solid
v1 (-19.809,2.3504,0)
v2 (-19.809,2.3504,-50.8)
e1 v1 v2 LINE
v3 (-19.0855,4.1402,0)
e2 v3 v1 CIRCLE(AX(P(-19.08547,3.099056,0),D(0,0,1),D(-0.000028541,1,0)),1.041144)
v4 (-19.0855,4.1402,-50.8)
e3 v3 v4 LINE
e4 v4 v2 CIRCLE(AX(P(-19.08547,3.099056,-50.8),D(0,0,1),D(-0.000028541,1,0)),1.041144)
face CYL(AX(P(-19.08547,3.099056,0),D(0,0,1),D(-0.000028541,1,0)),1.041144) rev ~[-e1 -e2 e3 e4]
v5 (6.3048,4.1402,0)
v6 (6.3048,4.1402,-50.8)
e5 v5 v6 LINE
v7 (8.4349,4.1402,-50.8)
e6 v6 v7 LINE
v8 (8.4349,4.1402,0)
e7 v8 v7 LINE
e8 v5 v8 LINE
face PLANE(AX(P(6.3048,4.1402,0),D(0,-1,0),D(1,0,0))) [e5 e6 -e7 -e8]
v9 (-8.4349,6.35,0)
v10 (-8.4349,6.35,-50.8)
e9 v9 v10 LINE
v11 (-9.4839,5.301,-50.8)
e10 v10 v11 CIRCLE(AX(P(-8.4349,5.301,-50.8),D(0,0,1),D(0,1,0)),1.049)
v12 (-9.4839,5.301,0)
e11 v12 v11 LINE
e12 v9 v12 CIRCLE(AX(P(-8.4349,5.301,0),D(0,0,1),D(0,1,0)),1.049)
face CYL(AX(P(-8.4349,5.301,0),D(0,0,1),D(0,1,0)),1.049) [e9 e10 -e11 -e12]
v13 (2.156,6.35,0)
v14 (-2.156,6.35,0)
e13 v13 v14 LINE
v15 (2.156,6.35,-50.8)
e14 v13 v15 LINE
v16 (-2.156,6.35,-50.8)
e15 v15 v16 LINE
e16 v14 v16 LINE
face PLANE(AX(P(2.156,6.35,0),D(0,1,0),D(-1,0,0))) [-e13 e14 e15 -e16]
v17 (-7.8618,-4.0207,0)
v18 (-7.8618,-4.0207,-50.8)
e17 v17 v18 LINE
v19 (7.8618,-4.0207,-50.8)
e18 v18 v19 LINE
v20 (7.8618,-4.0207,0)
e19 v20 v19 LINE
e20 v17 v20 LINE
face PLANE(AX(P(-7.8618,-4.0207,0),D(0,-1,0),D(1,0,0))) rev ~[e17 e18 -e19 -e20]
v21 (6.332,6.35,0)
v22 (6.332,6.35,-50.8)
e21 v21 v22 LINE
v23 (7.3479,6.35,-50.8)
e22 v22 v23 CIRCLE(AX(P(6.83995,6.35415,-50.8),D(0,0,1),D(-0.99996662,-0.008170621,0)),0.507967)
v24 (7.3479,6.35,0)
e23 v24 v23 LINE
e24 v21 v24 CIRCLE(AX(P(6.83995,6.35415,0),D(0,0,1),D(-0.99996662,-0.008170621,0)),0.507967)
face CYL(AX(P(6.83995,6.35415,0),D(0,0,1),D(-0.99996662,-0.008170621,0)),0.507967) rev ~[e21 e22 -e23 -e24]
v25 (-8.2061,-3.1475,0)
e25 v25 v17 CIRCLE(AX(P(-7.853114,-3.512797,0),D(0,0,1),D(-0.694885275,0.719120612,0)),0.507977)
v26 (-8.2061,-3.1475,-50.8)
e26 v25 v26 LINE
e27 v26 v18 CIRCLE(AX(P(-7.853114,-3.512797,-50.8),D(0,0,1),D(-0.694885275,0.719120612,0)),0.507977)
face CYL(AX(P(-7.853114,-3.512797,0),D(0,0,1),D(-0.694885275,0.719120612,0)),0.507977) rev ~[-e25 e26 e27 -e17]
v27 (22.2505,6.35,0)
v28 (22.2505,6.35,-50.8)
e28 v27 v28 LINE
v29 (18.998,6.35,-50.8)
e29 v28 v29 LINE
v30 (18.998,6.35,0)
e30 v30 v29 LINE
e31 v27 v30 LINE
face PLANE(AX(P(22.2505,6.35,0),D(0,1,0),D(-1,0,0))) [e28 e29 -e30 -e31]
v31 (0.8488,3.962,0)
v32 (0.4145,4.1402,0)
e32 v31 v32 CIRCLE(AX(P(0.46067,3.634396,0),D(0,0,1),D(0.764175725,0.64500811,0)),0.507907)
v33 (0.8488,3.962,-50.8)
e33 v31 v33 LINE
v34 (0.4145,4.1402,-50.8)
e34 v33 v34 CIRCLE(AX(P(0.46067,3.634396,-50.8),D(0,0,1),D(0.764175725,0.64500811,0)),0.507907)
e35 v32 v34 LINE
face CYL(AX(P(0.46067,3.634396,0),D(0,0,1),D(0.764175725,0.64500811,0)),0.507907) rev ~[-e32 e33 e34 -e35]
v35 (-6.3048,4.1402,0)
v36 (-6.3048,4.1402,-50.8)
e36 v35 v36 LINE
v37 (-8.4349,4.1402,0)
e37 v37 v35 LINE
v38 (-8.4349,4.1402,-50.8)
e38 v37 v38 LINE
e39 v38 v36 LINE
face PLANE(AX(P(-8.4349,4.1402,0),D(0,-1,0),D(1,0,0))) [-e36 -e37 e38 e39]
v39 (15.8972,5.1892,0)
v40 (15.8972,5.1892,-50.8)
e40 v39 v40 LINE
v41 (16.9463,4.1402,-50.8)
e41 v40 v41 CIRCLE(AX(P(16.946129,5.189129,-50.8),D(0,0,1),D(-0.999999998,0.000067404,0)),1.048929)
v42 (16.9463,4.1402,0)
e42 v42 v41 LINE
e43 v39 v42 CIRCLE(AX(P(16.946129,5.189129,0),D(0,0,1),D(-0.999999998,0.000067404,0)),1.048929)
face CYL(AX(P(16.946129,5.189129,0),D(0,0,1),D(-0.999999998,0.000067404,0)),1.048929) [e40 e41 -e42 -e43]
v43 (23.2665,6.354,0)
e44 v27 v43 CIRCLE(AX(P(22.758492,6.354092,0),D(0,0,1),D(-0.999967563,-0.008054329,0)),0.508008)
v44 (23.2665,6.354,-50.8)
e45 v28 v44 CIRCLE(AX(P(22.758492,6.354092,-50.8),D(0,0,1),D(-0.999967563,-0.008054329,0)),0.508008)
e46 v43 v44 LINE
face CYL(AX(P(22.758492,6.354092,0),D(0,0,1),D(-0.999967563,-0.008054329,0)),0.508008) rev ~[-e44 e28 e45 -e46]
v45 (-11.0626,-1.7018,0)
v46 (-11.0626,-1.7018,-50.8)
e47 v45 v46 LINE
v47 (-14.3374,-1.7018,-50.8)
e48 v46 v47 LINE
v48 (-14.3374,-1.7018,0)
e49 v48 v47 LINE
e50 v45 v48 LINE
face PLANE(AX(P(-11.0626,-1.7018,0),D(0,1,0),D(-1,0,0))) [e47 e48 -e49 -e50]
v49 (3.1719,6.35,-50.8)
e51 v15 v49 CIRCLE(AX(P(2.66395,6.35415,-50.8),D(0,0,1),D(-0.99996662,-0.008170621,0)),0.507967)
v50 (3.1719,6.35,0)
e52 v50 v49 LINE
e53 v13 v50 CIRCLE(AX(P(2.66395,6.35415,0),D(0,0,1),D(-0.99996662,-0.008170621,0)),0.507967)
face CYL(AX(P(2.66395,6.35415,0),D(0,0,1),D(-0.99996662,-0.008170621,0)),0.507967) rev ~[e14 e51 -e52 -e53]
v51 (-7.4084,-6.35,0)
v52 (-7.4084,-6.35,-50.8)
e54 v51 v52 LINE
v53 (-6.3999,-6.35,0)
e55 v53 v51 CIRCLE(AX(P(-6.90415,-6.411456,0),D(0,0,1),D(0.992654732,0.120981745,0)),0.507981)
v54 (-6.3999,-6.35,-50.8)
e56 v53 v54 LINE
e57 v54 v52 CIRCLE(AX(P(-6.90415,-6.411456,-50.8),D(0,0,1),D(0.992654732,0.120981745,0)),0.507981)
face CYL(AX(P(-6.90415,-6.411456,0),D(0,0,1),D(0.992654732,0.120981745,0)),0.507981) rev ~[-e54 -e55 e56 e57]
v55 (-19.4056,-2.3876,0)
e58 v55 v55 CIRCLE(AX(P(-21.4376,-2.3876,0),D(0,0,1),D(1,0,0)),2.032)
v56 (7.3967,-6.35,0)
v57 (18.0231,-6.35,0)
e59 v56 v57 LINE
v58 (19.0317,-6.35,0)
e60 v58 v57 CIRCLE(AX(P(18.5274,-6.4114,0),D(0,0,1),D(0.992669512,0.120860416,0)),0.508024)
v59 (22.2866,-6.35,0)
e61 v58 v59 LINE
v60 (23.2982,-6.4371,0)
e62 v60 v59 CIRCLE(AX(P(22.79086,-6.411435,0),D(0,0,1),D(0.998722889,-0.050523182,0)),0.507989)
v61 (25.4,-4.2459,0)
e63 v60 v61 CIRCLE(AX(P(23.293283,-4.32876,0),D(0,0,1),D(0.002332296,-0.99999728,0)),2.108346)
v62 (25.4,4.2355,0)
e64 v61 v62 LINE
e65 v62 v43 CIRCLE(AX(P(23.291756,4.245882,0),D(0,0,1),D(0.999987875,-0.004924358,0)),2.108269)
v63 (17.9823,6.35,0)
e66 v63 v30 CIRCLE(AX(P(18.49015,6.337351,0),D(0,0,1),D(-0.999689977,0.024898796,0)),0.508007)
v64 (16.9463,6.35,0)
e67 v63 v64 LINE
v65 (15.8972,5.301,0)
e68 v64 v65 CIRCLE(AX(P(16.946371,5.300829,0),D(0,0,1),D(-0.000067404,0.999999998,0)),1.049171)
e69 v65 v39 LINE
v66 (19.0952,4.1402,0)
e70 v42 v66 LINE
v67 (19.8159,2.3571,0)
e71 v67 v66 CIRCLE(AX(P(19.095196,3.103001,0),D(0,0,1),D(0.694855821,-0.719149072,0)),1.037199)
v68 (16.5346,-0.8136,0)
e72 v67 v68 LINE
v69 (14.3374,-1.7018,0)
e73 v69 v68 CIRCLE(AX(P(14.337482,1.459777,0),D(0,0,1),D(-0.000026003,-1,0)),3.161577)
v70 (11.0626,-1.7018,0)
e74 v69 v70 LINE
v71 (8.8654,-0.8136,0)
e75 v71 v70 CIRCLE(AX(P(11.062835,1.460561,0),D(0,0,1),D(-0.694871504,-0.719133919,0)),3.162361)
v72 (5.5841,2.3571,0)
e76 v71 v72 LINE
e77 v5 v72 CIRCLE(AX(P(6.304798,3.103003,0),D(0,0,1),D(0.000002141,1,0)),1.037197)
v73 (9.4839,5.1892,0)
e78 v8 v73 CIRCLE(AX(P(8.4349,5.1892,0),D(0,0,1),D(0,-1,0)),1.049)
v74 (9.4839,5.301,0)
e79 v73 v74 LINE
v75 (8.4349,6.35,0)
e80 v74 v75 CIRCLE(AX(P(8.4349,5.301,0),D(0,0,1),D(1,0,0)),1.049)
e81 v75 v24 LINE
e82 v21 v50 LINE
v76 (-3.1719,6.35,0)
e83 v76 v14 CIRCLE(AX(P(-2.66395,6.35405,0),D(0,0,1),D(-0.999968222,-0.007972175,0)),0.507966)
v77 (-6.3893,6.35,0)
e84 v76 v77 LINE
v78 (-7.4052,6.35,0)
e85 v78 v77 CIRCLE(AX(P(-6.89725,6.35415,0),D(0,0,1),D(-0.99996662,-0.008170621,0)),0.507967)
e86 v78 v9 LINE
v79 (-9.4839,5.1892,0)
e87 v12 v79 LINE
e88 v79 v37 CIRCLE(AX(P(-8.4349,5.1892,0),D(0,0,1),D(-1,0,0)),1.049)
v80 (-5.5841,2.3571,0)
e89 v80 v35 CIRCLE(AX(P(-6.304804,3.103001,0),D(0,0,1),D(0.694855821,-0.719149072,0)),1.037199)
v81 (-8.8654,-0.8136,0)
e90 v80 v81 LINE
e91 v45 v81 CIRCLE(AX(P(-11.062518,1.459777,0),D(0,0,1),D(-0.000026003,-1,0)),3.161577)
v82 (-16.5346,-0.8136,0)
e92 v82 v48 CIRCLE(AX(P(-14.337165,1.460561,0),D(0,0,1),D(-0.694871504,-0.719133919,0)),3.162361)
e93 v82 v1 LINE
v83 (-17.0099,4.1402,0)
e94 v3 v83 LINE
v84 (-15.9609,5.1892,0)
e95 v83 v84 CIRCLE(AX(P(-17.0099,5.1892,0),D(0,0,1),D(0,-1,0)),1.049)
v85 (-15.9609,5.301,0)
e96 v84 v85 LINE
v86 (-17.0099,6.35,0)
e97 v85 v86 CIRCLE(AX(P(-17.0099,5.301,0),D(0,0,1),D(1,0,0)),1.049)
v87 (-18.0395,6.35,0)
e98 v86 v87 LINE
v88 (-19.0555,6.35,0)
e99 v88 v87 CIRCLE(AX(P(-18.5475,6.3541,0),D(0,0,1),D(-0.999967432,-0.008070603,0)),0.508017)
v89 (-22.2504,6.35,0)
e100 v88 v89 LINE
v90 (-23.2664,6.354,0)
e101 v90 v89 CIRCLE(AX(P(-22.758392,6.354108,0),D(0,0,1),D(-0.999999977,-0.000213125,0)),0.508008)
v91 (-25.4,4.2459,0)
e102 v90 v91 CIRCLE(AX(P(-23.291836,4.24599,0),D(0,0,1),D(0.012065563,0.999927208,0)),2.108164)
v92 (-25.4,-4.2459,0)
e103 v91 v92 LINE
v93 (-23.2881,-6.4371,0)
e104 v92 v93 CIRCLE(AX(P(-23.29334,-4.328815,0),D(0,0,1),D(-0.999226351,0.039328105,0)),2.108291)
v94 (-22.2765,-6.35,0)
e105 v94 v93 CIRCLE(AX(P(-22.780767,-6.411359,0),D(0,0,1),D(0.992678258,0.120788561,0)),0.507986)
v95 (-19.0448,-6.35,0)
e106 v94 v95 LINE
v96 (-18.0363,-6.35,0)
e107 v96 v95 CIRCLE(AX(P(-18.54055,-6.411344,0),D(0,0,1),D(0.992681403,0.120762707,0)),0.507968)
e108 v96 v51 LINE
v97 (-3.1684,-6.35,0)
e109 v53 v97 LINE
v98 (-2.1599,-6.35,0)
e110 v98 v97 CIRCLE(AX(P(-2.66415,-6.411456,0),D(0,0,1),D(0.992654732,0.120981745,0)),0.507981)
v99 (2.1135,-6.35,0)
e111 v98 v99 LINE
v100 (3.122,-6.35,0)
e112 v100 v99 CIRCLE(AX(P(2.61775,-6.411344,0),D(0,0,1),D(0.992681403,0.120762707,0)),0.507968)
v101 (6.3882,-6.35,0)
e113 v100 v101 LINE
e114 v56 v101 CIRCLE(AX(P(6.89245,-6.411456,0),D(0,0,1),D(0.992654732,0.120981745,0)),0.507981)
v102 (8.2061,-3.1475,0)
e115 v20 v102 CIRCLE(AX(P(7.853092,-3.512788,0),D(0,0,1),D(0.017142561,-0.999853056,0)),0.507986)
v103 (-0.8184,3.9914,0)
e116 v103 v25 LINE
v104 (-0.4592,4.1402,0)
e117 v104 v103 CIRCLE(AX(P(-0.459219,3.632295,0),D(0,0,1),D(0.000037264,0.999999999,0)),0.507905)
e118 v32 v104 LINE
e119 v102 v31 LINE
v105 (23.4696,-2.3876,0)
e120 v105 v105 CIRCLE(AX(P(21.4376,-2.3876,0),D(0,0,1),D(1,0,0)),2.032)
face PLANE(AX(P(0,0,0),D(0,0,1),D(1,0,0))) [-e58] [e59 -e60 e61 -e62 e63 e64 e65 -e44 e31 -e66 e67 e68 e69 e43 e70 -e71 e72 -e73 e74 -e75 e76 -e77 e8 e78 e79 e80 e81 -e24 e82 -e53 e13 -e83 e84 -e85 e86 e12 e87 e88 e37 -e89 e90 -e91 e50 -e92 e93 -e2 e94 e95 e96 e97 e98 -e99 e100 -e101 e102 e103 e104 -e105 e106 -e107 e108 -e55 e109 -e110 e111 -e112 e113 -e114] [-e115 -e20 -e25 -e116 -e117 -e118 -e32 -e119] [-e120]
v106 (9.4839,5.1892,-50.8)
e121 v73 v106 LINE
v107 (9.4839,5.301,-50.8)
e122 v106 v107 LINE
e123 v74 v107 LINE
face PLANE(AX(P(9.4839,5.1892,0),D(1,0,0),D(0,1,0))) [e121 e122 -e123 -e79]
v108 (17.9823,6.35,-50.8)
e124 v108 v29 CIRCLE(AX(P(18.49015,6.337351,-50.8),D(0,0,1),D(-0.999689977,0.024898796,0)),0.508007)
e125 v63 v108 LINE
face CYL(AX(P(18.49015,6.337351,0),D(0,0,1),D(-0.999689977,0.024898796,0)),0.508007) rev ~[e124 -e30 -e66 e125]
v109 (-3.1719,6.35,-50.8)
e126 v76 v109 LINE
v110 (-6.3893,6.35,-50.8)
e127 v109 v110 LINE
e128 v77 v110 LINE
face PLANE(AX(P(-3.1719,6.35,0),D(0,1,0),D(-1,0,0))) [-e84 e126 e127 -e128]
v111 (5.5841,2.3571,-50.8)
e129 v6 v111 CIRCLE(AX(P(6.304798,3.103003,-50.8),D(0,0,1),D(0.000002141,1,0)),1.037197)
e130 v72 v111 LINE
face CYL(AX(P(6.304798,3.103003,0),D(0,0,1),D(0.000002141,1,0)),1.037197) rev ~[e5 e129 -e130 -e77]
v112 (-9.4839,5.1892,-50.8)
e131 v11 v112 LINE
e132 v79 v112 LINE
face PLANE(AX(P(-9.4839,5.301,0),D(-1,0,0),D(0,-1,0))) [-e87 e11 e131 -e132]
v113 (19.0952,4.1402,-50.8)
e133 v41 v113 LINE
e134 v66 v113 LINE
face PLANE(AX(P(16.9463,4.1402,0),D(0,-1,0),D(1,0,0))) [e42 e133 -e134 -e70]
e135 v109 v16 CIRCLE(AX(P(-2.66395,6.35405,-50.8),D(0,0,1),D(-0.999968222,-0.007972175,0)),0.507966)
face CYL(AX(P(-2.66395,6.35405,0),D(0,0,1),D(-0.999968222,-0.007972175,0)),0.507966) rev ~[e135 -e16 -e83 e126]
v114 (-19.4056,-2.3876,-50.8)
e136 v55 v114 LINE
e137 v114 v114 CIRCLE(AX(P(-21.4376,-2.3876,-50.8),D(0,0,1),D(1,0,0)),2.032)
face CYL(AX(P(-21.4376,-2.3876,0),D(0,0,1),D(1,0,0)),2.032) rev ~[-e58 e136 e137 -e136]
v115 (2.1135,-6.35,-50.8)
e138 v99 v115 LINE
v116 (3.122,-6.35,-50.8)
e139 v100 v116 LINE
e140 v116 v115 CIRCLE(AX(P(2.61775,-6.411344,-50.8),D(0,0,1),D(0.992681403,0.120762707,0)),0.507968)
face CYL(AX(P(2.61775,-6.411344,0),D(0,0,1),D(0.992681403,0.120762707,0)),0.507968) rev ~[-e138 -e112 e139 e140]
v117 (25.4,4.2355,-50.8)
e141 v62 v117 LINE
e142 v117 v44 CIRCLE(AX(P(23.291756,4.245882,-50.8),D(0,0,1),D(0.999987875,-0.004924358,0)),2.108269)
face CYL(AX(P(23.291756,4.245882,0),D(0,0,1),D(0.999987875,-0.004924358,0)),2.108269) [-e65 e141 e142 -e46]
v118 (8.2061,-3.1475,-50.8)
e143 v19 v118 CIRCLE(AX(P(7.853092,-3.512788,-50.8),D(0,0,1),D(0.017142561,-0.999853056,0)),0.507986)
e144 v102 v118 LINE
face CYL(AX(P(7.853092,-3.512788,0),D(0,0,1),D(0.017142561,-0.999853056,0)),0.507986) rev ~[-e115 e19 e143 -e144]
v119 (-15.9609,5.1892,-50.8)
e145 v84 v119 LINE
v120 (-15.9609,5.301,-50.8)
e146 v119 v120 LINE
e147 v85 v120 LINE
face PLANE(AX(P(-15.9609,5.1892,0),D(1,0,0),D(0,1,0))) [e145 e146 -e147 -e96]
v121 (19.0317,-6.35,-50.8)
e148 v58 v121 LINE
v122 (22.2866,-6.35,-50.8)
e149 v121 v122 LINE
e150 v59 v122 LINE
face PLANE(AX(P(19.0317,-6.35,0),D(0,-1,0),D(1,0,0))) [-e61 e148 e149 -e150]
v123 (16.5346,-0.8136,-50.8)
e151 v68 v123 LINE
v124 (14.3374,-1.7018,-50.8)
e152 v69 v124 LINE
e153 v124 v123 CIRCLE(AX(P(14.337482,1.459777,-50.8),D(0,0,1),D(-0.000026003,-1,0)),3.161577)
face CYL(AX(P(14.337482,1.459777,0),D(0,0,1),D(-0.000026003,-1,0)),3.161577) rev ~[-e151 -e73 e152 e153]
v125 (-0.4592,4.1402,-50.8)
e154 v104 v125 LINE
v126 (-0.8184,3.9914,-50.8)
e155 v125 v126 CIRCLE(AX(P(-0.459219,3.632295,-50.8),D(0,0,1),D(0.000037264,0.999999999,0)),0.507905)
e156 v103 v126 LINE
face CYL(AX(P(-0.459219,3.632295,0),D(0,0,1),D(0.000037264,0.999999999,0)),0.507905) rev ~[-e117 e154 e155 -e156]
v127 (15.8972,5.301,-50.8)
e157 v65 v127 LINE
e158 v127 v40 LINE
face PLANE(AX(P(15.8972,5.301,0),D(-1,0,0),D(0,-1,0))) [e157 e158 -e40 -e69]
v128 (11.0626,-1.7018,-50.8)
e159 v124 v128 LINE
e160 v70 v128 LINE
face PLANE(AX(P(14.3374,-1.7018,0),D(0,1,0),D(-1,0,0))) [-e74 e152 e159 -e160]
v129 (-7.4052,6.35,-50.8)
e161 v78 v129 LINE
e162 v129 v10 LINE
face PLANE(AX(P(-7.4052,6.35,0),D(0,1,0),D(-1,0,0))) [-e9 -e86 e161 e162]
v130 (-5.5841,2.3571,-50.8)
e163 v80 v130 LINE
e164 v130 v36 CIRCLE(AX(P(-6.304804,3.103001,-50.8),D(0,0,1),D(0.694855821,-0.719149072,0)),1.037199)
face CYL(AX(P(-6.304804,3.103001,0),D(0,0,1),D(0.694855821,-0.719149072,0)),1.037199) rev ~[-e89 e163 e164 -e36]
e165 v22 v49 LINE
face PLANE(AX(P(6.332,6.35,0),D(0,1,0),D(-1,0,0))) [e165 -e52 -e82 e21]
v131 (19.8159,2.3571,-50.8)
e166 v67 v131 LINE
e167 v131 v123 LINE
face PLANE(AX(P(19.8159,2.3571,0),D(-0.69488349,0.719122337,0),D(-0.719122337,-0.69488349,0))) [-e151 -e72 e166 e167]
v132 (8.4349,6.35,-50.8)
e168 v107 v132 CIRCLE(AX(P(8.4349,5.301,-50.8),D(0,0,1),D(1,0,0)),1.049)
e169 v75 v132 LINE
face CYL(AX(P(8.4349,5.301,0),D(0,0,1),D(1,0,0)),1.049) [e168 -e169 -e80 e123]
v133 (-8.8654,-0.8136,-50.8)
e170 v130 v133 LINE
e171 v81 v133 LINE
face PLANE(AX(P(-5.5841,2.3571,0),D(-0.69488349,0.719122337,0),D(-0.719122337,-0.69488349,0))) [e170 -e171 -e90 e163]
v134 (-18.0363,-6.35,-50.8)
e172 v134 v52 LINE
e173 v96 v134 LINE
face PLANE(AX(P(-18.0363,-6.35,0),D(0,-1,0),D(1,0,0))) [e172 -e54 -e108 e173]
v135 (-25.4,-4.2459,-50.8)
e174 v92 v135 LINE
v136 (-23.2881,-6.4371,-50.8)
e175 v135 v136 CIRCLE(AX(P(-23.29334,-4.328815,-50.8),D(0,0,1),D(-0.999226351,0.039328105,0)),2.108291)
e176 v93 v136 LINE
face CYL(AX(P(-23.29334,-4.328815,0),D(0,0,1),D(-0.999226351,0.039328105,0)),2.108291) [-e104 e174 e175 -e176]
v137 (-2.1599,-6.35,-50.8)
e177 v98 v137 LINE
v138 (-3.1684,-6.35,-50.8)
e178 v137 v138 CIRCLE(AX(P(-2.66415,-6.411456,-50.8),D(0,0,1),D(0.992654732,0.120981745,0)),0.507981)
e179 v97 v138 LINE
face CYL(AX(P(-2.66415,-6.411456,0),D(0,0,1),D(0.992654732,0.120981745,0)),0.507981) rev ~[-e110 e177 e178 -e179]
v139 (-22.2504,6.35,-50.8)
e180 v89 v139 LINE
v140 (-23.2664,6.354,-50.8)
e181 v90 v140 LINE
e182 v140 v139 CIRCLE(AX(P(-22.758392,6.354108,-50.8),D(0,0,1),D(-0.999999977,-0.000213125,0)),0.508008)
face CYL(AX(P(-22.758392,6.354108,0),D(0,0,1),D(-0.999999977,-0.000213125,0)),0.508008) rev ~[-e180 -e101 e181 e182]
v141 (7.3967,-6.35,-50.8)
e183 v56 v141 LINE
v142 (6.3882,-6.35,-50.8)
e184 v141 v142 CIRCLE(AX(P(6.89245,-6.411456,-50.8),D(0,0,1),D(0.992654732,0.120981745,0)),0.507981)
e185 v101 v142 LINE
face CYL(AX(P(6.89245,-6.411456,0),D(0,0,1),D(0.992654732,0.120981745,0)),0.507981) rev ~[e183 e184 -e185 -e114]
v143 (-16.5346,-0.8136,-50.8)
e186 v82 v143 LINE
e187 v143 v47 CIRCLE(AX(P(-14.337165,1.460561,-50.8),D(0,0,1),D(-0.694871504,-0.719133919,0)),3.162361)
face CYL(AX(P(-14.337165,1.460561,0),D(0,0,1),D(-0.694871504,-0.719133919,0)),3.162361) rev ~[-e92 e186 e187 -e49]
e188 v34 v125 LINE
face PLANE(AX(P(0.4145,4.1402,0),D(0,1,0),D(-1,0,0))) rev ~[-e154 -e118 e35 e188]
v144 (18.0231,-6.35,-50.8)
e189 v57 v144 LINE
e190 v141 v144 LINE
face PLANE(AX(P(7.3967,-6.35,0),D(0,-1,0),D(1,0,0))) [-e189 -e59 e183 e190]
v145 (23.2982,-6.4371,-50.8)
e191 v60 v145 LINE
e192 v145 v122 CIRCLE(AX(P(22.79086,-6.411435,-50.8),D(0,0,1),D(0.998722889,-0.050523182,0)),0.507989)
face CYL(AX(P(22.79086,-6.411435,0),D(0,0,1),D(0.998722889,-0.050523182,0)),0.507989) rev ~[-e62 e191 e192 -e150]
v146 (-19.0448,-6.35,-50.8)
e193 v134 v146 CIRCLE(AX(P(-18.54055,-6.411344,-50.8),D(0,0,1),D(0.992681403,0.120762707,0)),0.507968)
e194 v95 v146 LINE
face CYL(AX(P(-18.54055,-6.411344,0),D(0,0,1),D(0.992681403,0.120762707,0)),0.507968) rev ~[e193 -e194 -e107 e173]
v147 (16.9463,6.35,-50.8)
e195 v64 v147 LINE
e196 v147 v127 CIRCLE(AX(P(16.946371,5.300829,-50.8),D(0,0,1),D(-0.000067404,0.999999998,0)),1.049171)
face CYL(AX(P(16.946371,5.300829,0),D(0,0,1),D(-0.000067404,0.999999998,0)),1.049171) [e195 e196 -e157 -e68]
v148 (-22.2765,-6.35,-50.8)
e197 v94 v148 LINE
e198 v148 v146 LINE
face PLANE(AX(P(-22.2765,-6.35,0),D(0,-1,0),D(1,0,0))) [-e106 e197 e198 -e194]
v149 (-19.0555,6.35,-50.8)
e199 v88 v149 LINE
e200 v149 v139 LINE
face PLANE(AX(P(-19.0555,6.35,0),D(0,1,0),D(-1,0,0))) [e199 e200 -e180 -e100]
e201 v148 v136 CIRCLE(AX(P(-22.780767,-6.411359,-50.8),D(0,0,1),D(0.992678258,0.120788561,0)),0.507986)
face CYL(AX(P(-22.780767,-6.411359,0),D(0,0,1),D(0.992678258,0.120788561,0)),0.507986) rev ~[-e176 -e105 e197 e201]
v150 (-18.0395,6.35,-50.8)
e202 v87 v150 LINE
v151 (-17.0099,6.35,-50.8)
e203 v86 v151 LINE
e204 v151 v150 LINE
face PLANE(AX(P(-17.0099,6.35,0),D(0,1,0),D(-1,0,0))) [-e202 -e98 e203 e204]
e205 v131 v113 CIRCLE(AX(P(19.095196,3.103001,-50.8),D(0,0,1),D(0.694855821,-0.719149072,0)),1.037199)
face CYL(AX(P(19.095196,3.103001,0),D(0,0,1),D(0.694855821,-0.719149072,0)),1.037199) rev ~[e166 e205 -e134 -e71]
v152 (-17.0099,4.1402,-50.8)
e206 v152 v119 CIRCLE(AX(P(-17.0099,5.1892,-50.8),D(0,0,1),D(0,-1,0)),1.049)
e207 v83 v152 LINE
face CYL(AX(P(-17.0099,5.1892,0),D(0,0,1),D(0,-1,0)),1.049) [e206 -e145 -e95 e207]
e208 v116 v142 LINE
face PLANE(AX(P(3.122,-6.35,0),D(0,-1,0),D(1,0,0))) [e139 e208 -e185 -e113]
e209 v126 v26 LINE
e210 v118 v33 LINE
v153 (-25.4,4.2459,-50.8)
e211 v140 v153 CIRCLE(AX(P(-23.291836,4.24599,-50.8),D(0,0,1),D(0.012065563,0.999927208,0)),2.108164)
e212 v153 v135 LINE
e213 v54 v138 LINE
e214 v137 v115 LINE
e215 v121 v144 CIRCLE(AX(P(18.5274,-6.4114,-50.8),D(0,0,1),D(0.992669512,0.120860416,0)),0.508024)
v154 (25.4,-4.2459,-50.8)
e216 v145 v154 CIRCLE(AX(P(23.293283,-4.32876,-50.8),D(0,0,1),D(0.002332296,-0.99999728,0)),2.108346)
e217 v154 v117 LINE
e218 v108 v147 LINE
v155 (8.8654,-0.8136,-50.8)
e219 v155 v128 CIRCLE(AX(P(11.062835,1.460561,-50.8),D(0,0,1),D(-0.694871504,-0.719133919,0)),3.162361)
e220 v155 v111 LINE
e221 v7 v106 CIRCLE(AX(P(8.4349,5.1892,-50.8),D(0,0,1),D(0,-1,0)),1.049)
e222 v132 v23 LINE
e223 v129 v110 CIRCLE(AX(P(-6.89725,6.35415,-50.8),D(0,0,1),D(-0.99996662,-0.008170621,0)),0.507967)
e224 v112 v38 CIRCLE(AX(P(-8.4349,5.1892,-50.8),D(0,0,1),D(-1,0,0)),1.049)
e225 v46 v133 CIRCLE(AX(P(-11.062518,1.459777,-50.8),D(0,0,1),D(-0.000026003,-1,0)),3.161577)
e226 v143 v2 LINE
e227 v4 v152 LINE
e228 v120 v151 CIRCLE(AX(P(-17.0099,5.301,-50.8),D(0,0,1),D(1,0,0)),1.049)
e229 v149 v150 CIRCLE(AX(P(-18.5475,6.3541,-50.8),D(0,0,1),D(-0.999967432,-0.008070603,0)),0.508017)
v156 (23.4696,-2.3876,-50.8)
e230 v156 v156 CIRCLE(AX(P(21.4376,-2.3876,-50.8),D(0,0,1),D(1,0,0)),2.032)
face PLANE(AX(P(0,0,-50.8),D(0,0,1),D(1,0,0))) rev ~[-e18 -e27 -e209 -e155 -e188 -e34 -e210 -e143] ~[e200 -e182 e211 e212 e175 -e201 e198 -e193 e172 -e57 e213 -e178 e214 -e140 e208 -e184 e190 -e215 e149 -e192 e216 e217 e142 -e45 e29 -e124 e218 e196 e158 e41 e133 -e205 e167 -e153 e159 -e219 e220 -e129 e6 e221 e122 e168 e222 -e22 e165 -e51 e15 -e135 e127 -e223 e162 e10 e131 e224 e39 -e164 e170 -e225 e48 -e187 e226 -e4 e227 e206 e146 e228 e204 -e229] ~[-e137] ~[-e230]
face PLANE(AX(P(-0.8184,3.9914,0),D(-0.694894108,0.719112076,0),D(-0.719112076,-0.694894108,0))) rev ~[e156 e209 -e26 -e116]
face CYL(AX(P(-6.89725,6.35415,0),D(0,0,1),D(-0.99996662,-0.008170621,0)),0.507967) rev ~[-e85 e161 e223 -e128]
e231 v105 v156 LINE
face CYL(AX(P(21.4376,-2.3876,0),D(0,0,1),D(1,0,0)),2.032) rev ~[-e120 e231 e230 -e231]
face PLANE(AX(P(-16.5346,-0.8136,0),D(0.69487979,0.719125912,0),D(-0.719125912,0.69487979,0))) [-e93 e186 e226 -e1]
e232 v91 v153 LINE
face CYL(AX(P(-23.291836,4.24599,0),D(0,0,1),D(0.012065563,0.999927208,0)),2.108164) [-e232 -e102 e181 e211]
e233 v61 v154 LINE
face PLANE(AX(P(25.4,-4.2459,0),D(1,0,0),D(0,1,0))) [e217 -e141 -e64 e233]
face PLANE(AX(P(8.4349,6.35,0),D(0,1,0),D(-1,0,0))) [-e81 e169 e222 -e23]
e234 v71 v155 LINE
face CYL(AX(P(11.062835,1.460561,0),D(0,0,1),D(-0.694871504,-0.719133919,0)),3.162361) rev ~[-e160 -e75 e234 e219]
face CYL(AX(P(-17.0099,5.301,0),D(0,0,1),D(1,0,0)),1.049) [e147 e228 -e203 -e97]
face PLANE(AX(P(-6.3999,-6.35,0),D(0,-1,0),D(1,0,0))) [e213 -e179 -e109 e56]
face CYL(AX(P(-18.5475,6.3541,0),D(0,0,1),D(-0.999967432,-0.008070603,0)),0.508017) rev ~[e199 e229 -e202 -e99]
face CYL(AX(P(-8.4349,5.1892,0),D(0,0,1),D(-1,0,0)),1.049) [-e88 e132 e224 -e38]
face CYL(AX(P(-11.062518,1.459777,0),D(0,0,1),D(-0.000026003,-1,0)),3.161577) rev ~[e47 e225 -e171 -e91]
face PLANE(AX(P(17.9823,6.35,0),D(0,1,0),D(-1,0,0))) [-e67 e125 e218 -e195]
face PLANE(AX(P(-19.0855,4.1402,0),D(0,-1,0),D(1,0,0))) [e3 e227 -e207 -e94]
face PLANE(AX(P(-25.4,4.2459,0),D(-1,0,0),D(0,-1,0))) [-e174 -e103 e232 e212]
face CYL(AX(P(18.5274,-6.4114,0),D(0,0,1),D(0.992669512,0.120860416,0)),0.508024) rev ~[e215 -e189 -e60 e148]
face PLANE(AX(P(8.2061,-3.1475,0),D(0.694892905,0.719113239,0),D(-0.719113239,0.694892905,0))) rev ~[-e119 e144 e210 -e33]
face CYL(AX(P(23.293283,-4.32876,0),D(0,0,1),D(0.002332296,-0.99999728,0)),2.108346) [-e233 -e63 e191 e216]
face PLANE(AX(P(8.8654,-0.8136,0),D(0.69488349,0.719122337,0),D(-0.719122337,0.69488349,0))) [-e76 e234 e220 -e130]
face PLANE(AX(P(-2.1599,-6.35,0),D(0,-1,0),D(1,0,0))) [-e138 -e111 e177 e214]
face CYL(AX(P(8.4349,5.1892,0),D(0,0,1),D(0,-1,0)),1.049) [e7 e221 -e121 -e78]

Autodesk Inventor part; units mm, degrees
ref_plane "YZ Plane" through (0, 0, 0) normal (1, 0, 0) x (0, 1, 0)
ref_plane "XZ Plane" through (0, 0, 0) normal (0, 1, 0) x (-1, 0, 0)
ref_plane "XY Plane" through (0, 0, 0) normal (0, 0, 1) x (1, 0, 0)
sketch "Sketch1" plane through (0, 0, 0) normal (0, 0, 1) x (1, 0, 0)
  arc A0 (-8.2061, -3.1475) -> (-7.8618, -4.0207) centre (-7.8531, -3.5128) ccw
  line L0 (-0.8184, 3.9914) -> (-8.2061, -3.1475)
  arc A1 (-0.4592, 4.1402) -> (-0.8184, 3.9914) centre (-0.4592, 3.6322) ccw
  line L1 (0.4145, 4.1402) -> (-0.4592, 4.1402)
  arc A2 (0.8488, 3.962) -> (0.4145, 4.1402) centre (0.4606, 3.6343) ccw
  line L2 (8.2061, -3.1475) -> (0.8488, 3.962)
  arc A3 (7.8618, -4.0207) -> (8.2061, -3.1475) centre (7.8531, -3.5128) ccw
  line L3 (-7.8618, -4.0207) -> (7.8618, -4.0207)
  circle A4 centre (21.4376, -2.3876) radius 2.032
  circle A5 centre (-21.4376, -2.3876) radius 2.032
  arc A6 (16.9463, 6.35) -> (15.8972, 5.301) centre (16.9463, 5.301) ccw
  line L4 (15.8972, 5.301) -> (15.8972, 5.1892)
  arc A7 (15.8972, 5.1892) -> (16.9463, 4.1402) centre (16.9463, 5.1892) ccw
  line L5 (16.9463, 4.1402) -> (19.0952, 4.1402)
  arc A8 (19.8159, 2.3571) -> (19.0952, 4.1402) centre (19.0952, 3.103) ccw
  line L6 (19.8159, 2.3571) -> (16.5346, -0.8136)
  arc A9 (14.3374, -1.7018) -> (16.5346, -0.8136) centre (14.3374, 1.4602) ccw
  line L7 (14.3374, -1.7018) -> (11.0626, -1.7018)
  arc A10 (8.8654, -0.8136) -> (11.0626, -1.7018) centre (11.0626, 1.4602) ccw
  line L8 (8.8654, -0.8136) -> (5.5841, 2.3571)
  arc A11 (6.3048, 4.1402) -> (5.5841, 2.3571) centre (6.3048, 3.103) ccw
  line L9 (6.3048, 4.1402) -> (8.4349, 4.1402)
  arc A12 (8.4349, 4.1402) -> (9.4839, 5.1892) centre (8.4349, 5.1892) ccw
  line L10 (9.4839, 5.1892) -> (9.4839, 5.301)
  arc A13 (9.4839, 5.301) -> (8.4349, 6.35) centre (8.4349, 5.301) ccw
  line L11 (8.4349, 6.35) -> (7.3479, 6.35)
  arc A14 (6.332, 6.35) -> (7.3479, 6.35) centre (6.8399, 6.3541) ccw
  line L12 (6.332, 6.35) -> (3.1719, 6.35)
  arc A15 (2.156, 6.35) -> (3.1719, 6.35) centre (2.6639, 6.3541) ccw
  line L13 (2.156, 6.35) -> (-2.156, 6.35)
  arc A16 (-3.1719, 6.35) -> (-2.156, 6.35) centre (-2.6639, 6.3541) ccw
  line L14 (-3.1719, 6.35) -> (-6.3893, 6.35)
  arc A17 (-7.4052, 6.35) -> (-6.3893, 6.35) centre (-6.8973, 6.3541) ccw
  line L15 (-7.4052, 6.35) -> (-8.4349, 6.35)
  arc A18 (-8.4349, 6.35) -> (-9.4839, 5.301) centre (-8.4349, 5.301) ccw
  line L16 (-9.4839, 5.301) -> (-9.4839, 5.1892)
  arc A19 (-9.4839, 5.1892) -> (-8.4349, 4.1402) centre (-8.4349, 5.1892) ccw
  line L17 (-8.4349, 4.1402) -> (-6.3048, 4.1402)
  arc A20 (-5.5841, 2.3571) -> (-6.3048, 4.1402) centre (-6.3048, 3.103) ccw
  line L18 (-5.5841, 2.3571) -> (-8.8654, -0.8136)
  arc A21 (-11.0626, -1.7018) -> (-8.8654, -0.8136) centre (-11.0626, 1.4602) ccw
  line L19 (-11.0626, -1.7018) -> (-14.3374, -1.7018)
  arc A22 (-16.5346, -0.8136) -> (-14.3374, -1.7018) centre (-14.3374, 1.4602) ccw
  line L20 (-16.5346, -0.8136) -> (-19.809, 2.3504)
  arc A23 (-19.0855, 4.1402) -> (-19.809, 2.3504) centre (-19.0855, 3.0991) ccw
  line L21 (-19.0855, 4.1402) -> (-17.0099, 4.1402)
  arc A24 (-17.0099, 4.1402) -> (-15.9609, 5.1892) centre (-17.0099, 5.1892) ccw
  line L22 (-15.9609, 5.1892) -> (-15.9609, 5.301)
  arc A25 (-15.9609, 5.301) -> (-17.0099, 6.35) centre (-17.0099, 5.301) ccw
  line L23 (-17.0099, 6.35) -> (-18.0395, 6.35)
  arc A26 (-19.0555, 6.35) -> (-18.0395, 6.35) centre (-18.5475, 6.3541) ccw
  line L24 (-19.0555, 6.35) -> (-22.2504, 6.35)
  arc A27 (-23.2664, 6.354) -> (-22.2504, 6.35) centre (-22.7584, 6.3541) ccw
  arc A28 (-23.2664, 6.354) -> (-25.4, 4.2459) centre (-23.2918, 4.2459) ccw
  line L25 (-25.4, 4.2459) -> (-25.4, -4.2459)
  arc A29 (-25.4, -4.2459) -> (-23.2881, -6.4371) centre (-23.2933, -4.3288) ccw
  arc A30 (-22.2765, -6.35) -> (-23.2881, -6.4371) centre (-22.7808, -6.4114) ccw
  line L26 (-22.2765, -6.35) -> (-19.0448, -6.35)
  arc A31 (-18.0363, -6.35) -> (-19.0448, -6.35) centre (-18.5406, -6.4114) ccw
  line L27 (-18.0363, -6.35) -> (-7.4084, -6.35)
  arc A32 (-6.3999, -6.35) -> (-7.4084, -6.35) centre (-6.9041, -6.4114) ccw
  line L28 (-6.3999, -6.35) -> (-3.1684, -6.35)
  arc A33 (-2.1599, -6.35) -> (-3.1684, -6.35) centre (-2.6641, -6.4114) ccw
  line L29 (-2.1599, -6.35) -> (2.1135, -6.35)
  arc A34 (3.122, -6.35) -> (2.1135, -6.35) centre (2.6177, -6.4114) ccw
  line L30 (3.122, -6.35) -> (6.3882, -6.35)
  arc A35 (7.3967, -6.35) -> (6.3882, -6.35) centre (6.8925, -6.4114) ccw
  line L31 (7.3967, -6.35) -> (18.0231, -6.35)
  arc A36 (19.0317, -6.35) -> (18.0231, -6.35) centre (18.5274, -6.4114) ccw
  line L32 (19.0317, -6.35) -> (22.2866, -6.35)
  arc A37 (23.2982, -6.4371) -> (22.2866, -6.35) centre (22.7909, -6.4114) ccw
  arc A38 (23.2982, -6.4371) -> (25.4, -4.2459) centre (23.2933, -4.3288) ccw
  line L33 (25.4, -4.2459) -> (25.4, 4.2355)
  arc A39 (25.4, 4.2355) -> (23.2665, 6.354) centre (23.2918, 4.2459) ccw
  arc A40 (22.2505, 6.35) -> (23.2665, 6.354) centre (22.7585, 6.3541) ccw
  line L34 (22.2505, 6.35) -> (18.998, 6.35)
  arc A41 (17.9823, 6.35) -> (18.998, 6.35) centre (18.4902, 6.3374) ccw
  line L35 (17.9823, 6.35) -> (16.9463, 6.35)
  point P0 (0, 0)
extrude "Extrusion1" add sketch "Sketch1" against normal blind 50.8
properties part number "2012_2in"
